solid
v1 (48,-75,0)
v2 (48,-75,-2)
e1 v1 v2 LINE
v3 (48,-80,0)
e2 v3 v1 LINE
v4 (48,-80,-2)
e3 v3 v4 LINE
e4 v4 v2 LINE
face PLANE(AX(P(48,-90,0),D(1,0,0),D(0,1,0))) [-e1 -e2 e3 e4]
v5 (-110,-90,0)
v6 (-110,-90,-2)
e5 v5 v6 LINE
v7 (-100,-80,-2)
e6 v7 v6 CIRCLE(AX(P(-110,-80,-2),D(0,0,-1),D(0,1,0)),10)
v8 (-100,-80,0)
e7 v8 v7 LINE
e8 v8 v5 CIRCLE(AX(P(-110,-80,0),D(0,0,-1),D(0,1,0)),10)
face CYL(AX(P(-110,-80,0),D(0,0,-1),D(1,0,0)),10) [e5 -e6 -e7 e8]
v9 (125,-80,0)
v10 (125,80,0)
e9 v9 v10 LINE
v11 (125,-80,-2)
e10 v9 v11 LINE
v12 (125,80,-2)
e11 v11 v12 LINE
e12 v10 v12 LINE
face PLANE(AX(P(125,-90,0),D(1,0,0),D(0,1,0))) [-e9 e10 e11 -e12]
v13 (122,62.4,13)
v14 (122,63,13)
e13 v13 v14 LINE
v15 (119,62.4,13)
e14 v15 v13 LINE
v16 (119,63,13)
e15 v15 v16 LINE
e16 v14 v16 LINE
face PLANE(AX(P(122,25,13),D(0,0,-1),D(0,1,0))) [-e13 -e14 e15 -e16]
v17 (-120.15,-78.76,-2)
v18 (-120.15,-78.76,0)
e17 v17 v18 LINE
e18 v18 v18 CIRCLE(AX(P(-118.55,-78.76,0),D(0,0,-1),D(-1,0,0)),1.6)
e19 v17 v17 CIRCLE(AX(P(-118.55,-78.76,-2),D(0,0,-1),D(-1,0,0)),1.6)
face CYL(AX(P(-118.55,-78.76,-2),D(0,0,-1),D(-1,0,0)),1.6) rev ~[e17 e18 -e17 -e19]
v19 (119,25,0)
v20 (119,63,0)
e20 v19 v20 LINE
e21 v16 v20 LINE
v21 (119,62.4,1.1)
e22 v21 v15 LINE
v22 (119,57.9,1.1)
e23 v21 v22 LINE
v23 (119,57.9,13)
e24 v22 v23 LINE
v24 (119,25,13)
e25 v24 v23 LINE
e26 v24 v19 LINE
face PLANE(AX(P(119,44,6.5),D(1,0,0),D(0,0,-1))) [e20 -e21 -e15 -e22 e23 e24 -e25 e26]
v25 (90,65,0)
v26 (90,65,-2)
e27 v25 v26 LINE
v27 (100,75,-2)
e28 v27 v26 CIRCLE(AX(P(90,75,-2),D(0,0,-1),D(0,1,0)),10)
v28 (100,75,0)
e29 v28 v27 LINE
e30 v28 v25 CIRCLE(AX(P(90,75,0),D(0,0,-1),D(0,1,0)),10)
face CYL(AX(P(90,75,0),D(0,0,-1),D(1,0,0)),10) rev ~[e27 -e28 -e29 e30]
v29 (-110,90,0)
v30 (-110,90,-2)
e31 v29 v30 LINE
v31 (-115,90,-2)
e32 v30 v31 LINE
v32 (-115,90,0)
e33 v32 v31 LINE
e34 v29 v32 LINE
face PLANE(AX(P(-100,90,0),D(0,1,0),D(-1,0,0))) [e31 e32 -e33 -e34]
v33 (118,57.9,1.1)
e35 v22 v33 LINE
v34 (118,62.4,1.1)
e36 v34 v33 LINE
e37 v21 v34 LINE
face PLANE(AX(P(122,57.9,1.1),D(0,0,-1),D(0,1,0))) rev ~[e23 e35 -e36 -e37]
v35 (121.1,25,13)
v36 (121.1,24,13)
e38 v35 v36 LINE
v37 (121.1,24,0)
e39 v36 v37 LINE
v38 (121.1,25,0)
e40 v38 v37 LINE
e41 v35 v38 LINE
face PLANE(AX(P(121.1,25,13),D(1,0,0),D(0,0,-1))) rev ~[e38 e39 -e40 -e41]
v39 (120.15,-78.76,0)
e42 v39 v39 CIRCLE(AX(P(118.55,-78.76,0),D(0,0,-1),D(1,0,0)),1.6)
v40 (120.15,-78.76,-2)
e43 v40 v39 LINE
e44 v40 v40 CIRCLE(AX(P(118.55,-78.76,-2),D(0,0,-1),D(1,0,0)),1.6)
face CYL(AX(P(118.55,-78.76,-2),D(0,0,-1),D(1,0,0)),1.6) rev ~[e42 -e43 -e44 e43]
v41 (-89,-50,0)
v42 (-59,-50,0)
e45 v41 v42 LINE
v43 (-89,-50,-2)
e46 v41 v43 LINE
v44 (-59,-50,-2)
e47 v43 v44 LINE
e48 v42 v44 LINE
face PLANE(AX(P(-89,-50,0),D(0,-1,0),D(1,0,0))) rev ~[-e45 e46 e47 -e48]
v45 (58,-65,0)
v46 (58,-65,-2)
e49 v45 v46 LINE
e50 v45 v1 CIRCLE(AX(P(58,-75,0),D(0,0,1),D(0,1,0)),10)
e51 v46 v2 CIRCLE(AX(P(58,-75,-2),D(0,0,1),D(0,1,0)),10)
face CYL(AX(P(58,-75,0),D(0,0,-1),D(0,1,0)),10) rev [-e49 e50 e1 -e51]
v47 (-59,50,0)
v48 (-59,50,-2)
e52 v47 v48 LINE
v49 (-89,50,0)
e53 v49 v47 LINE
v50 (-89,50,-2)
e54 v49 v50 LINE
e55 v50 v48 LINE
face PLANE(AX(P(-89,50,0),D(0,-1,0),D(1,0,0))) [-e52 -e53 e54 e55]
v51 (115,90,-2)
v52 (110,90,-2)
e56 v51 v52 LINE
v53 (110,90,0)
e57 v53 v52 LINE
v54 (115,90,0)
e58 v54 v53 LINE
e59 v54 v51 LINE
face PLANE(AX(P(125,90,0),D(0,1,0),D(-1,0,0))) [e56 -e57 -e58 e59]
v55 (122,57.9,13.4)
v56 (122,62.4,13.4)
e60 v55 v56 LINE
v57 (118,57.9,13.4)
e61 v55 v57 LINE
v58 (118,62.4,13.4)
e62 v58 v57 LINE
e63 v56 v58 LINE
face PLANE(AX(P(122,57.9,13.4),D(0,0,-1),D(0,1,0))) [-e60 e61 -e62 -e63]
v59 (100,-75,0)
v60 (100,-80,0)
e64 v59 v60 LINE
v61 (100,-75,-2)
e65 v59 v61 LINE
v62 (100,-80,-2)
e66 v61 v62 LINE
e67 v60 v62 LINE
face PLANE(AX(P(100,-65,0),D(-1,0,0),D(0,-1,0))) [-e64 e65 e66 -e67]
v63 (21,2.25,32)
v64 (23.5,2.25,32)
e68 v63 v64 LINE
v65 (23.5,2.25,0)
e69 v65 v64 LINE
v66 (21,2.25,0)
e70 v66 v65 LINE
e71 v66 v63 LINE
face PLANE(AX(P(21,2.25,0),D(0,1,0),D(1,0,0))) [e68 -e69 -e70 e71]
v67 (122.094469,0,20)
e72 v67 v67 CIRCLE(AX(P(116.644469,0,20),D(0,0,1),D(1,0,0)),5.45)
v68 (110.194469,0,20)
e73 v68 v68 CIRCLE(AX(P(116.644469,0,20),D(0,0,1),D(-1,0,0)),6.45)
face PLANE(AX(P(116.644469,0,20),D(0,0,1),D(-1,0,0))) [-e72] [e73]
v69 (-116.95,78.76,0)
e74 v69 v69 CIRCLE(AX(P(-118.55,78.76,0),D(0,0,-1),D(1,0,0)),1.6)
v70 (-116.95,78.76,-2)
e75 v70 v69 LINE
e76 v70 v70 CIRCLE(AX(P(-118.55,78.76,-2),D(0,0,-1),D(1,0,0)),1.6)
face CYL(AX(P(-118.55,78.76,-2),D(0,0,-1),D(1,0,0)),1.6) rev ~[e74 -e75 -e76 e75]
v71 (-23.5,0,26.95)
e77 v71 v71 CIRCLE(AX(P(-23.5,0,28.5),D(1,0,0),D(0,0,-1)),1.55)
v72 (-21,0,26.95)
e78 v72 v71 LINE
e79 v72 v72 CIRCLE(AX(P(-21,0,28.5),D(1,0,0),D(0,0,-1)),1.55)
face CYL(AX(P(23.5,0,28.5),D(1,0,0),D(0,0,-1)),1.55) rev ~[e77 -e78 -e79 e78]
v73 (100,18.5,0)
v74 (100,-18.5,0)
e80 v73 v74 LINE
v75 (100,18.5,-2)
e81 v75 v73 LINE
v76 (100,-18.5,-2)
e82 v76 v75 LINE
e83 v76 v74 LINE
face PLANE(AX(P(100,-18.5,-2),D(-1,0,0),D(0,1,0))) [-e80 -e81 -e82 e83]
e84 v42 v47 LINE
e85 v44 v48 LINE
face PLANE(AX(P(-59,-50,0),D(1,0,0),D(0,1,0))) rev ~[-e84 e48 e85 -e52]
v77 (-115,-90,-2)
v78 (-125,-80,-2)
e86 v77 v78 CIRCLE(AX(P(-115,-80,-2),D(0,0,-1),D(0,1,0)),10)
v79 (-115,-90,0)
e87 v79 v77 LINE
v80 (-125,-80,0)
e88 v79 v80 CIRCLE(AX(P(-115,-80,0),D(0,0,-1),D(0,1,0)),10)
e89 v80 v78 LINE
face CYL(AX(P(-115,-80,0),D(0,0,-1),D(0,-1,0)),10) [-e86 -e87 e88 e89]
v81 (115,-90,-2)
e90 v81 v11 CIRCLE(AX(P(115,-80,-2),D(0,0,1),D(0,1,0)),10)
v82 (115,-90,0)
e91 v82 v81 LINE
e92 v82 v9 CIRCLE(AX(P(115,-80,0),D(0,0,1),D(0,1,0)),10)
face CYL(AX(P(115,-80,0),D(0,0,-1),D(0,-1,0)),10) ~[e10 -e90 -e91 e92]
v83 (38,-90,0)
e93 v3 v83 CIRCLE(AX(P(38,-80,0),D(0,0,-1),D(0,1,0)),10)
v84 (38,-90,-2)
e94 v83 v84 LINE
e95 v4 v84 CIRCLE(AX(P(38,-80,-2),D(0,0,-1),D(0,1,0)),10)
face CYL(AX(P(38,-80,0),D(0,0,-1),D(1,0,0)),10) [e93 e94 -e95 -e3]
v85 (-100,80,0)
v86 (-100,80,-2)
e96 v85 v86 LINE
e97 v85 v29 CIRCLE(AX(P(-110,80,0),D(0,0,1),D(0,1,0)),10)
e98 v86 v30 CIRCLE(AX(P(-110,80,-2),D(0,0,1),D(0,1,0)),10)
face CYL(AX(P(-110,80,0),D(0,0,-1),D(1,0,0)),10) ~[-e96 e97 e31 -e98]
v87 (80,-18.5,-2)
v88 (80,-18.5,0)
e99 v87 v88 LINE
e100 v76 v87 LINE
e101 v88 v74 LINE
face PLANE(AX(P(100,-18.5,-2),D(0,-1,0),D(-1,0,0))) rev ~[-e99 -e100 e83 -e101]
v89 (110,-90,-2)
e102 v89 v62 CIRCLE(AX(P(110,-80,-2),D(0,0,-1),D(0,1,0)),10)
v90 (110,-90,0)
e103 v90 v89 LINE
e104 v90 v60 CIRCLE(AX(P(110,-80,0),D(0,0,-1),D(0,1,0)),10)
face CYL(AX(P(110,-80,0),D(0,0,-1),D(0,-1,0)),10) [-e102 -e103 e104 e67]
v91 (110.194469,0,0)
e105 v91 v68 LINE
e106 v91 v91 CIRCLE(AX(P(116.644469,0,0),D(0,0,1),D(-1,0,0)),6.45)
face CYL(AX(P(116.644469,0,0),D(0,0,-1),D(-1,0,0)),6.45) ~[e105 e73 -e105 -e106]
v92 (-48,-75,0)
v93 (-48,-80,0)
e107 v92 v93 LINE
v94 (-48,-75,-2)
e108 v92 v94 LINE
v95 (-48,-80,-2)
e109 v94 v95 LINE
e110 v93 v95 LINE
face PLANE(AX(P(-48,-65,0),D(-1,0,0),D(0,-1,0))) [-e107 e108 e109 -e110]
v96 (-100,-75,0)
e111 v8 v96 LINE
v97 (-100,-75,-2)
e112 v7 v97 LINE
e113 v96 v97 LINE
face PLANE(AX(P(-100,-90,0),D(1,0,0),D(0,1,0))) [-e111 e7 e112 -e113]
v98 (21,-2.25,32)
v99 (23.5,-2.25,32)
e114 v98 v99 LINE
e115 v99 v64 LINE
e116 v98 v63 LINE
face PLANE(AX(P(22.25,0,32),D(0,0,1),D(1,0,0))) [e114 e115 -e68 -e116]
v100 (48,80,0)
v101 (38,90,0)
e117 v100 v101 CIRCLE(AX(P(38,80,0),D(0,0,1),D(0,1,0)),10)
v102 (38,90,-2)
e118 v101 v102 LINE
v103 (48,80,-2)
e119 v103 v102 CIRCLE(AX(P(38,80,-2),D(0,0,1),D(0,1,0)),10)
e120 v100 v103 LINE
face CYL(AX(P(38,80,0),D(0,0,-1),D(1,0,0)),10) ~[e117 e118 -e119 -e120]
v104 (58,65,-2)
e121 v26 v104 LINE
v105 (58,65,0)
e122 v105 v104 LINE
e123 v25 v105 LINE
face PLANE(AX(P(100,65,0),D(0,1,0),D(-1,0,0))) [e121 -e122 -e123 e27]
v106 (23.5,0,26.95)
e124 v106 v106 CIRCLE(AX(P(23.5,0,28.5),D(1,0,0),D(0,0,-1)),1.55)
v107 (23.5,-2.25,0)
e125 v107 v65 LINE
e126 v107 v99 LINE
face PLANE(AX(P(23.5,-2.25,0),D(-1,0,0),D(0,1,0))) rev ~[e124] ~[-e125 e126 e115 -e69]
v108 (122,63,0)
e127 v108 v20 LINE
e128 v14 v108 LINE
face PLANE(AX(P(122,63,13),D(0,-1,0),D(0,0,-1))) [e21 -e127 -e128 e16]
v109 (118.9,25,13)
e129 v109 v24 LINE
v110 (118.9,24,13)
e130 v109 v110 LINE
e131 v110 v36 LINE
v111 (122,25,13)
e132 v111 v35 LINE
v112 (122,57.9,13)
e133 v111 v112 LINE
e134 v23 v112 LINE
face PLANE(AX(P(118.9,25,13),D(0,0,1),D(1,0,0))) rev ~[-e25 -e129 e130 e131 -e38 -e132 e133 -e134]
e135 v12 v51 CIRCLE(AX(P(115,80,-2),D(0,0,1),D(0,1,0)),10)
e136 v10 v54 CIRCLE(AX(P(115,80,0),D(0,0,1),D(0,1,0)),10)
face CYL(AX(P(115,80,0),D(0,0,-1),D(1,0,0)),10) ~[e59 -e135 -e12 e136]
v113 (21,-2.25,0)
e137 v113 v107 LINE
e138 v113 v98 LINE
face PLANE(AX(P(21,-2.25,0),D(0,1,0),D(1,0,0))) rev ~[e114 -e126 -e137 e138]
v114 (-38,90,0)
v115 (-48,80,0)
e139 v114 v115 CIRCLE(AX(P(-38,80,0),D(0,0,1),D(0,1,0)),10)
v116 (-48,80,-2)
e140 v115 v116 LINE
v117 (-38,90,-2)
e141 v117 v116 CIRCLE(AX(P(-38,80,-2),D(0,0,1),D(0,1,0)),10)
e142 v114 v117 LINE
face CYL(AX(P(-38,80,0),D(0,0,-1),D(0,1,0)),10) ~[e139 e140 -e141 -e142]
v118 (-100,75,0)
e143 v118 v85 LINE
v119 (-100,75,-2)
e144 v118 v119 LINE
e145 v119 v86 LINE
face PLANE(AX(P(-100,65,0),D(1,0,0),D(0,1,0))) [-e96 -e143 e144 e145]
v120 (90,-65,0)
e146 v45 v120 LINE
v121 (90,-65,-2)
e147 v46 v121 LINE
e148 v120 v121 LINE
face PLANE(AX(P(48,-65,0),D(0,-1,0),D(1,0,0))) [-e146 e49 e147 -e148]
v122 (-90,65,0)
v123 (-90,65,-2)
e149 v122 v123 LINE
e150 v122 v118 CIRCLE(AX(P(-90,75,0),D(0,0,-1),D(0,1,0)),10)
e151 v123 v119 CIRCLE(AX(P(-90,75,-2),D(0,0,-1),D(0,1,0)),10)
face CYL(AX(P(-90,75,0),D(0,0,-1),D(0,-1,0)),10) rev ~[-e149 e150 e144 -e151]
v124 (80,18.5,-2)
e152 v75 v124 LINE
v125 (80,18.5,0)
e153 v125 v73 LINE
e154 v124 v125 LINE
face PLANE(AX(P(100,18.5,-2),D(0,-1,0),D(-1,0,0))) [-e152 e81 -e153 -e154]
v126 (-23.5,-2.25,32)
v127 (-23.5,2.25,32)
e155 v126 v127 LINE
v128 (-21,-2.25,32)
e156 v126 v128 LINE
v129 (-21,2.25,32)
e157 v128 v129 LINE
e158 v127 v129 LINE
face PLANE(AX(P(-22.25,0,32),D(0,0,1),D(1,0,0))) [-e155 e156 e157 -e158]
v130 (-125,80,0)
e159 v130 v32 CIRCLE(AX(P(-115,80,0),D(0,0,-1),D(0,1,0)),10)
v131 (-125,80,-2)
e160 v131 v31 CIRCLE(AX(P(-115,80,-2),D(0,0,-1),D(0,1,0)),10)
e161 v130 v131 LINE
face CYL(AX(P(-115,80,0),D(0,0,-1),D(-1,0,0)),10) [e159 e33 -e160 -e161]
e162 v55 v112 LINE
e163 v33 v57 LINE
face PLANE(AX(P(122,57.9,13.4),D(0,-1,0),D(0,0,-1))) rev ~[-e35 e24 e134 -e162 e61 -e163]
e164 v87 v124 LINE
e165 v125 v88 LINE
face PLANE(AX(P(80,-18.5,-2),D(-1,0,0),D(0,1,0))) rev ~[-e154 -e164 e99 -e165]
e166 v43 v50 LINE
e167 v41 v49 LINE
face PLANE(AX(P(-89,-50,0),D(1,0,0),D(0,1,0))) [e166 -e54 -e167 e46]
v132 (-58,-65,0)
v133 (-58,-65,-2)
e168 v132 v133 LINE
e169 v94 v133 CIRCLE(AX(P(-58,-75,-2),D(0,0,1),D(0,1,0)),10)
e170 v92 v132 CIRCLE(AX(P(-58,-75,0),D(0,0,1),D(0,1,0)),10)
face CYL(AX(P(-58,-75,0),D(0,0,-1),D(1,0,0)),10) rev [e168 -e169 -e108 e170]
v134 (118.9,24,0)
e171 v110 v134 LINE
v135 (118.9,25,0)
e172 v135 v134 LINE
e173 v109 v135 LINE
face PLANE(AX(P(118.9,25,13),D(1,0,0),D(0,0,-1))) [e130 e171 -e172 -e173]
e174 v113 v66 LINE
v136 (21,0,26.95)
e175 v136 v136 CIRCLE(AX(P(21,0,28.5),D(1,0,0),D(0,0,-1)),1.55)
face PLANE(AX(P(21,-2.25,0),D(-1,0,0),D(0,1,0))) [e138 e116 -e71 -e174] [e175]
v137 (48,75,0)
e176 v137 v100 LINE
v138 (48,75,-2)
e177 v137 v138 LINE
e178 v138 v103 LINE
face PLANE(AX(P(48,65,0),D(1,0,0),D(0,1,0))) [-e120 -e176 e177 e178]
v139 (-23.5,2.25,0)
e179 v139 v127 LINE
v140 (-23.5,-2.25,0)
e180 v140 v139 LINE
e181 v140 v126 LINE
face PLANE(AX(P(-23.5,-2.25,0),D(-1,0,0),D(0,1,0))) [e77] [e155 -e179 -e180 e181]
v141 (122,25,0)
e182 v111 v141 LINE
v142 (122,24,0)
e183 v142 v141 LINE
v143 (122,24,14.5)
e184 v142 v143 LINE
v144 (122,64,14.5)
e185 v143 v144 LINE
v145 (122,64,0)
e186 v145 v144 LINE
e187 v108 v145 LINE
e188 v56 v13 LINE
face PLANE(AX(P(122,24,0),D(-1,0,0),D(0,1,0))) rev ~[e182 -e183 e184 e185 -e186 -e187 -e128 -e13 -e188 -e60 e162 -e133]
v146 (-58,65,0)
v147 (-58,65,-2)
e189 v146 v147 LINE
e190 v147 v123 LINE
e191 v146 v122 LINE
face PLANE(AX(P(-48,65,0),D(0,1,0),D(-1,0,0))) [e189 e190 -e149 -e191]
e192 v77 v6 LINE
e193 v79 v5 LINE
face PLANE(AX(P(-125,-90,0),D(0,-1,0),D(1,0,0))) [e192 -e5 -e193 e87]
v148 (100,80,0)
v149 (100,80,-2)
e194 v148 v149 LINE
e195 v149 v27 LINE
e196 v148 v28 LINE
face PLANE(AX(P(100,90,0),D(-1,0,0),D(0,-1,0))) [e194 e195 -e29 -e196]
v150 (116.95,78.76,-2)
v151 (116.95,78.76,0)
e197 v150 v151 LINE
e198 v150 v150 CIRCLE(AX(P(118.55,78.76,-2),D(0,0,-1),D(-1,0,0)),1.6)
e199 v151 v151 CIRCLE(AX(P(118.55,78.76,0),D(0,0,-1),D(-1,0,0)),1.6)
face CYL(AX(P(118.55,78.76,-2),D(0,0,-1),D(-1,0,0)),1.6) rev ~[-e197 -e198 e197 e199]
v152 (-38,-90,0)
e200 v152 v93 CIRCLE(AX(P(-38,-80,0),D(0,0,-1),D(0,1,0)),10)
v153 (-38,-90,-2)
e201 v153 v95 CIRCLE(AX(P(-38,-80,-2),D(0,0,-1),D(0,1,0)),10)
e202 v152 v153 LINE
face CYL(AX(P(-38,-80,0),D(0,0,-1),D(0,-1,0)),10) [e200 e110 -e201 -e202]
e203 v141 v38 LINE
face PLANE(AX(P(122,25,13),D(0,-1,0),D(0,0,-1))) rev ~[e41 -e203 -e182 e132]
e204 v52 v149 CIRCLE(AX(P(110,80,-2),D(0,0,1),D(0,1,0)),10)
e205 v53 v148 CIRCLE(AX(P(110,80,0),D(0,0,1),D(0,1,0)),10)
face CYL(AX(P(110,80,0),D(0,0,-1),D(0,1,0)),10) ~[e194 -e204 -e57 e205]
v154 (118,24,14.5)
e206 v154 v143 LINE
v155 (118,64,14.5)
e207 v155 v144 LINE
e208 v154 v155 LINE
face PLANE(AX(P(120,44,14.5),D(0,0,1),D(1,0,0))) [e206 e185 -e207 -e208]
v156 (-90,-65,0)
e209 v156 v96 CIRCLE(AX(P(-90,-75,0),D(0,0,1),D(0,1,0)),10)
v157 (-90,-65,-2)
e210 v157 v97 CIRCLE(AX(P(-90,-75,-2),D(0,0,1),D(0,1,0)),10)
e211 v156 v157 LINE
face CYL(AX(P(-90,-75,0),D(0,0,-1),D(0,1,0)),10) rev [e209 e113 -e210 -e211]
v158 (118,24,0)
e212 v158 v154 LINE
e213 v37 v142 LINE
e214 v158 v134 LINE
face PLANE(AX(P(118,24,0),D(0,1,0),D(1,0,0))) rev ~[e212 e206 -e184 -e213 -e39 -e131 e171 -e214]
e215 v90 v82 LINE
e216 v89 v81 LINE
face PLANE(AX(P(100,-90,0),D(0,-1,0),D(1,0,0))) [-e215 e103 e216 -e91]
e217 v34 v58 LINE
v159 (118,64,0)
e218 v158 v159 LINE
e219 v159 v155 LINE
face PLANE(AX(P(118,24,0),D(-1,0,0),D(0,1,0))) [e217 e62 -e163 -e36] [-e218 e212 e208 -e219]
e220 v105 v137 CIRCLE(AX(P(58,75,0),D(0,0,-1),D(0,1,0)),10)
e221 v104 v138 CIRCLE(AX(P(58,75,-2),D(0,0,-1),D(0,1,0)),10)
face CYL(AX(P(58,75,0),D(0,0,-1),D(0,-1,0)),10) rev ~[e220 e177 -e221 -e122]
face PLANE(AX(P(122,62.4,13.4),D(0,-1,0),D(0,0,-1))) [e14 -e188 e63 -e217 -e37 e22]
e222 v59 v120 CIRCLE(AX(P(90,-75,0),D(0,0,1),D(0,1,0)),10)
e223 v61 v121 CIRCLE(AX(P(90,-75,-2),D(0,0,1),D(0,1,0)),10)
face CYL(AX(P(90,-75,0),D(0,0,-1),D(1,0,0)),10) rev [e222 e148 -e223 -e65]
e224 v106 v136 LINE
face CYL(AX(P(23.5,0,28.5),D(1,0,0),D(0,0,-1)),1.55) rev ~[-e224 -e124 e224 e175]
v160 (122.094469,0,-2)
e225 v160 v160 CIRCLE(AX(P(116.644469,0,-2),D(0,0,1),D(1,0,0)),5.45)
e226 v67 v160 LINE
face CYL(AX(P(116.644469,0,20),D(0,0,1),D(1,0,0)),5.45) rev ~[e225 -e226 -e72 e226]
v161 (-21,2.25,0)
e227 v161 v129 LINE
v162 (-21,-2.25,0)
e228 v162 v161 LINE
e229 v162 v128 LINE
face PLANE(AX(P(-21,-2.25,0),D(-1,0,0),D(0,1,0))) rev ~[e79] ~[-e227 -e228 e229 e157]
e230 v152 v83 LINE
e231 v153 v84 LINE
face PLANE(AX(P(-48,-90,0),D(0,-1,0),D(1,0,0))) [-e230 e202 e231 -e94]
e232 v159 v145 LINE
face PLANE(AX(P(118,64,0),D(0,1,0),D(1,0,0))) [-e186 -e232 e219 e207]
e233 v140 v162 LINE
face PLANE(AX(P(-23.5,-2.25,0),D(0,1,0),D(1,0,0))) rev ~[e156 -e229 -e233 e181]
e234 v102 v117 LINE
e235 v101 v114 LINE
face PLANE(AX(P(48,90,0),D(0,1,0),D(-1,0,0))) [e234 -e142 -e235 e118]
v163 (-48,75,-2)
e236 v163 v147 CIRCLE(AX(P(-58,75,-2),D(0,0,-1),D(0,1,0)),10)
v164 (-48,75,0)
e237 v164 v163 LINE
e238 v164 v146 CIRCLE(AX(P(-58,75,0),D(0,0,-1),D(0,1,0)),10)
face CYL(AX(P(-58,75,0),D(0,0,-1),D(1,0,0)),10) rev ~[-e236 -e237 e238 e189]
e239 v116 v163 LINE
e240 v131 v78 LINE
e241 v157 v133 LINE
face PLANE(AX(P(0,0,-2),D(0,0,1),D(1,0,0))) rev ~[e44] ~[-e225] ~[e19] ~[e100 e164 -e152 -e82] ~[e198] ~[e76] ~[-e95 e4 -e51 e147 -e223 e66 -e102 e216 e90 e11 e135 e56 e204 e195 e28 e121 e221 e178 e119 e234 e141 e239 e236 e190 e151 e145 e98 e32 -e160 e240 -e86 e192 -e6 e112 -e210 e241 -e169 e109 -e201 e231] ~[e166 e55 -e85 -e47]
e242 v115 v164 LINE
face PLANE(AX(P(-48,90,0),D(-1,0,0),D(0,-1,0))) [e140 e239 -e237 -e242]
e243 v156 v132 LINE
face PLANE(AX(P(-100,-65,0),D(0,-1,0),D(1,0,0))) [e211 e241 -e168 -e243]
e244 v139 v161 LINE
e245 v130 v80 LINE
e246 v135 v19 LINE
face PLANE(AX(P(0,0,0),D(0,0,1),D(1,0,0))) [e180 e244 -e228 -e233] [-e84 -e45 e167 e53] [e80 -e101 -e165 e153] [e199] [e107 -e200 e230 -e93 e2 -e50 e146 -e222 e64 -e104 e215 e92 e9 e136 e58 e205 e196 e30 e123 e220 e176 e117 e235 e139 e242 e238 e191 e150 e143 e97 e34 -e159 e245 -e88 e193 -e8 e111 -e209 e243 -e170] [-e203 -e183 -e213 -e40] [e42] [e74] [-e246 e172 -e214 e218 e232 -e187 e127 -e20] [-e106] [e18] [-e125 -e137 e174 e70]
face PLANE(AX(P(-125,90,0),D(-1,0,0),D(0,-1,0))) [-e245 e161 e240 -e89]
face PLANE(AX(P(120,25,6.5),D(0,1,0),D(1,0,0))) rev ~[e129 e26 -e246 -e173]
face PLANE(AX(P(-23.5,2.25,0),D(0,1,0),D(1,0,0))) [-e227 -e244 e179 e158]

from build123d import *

# Parameters (mm, degrees)
BOSS_EXTRU_1_DEPTH       = 2
ESQUISSE2_R              = 1.6
ENL_V_MAT_EXTRU_1_DEPTH  = 155.04220201
CONG_1_R                 = 10
ESQUISSE5_W              = 20
ESQUISSE5_H              = 37
ENL_V_MAT_EXTRU_4_DEPTH  = 10
ESQUISSE6_W              = 4
ESQUISSE6_H              = 40
BOSS_EXTRU_3_DEPTH       = 14.5
ESQUISSE10_W             = 12.3
ESQUISSE10_H             = 4.5
ENL_V_MAT_EXTRU_5_DEPTH  = 12.1
ESQUISSE9_W              = 13
ESQUISSE9_H              = 38
ENL_V_MAT_EXTRU_6_DEPTH  = 3
ESQUISSE11_W             = 2.2
ESQUISSE11_H             = 13
ENL_V_MAT_EXTRU_7_DEPTH  = 3
ESQUISSE14_R             = 6.45
BOSS_EXTRU_4_DEPTH       = 20
ESQUISSE15_R             = 5.45
ENL_V_MAT_EXTRU_8_DEPTH  = 156.592416268
ESQUISSE17_W             = 30
ESQUISSE17_H             = 100
ENL_V_MAT_EXTRU_10_DEPTH = 156.32224567
ESQUISSE18_W             = 2.5
ESQUISSE18_H             = 4.5
BOSS_EXTRU_5_DEPTH       = 32
ESQUISSE19_R             = 1.55
ENL_V_MAT_EXTRU_11_DEPTH = 177.567975579


with BuildPart() as part:
    # Esquisse1 → Boss.-Extru.1 (new body)
    with BuildSketch(Plane.XY):
        Polygon((100, -90), (125, -90), (125, 90), (100, 90), (100, 65), (48, 65), (48, 90), (-48, 90), (-48, 65), (-100, 65), (-100, 90), (-125, 90), (-125, -90), (-100, -90), (-100, -65), (-48, -65), (-48, -90), (48, -90), (48, -65), (100, -65), align=None)
    extrude(amount=-BOSS_EXTRU_1_DEPTH)

    # Esquisse2 → Enlèv. mat.-Extru.1 (cut, through all)
    with BuildSketch(Plane(origin=(0, 0, -2), x_dir=(-1, 0, 0), z_dir=(0, 0, -1))):
        with Locations((-118.55, 78.76)):
            Circle(ESQUISSE2_R)
        with Locations(Location((118.55, 78.76, 0), (0, 0, 180))):
            Circle(ESQUISSE2_R)
        with Locations((118.55, -78.76)):
            Circle(ESQUISSE2_R)
        with Locations(Location((-118.55, -78.76, 0), (0, 0, 180))):
            Circle(ESQUISSE2_R)
    extrude(amount=-ENL_V_MAT_EXTRU_1_DEPTH, mode=Mode.SUBTRACT)

    # Congé1
    cong_1_edges = [part.edges().sort_by_distance(p)[0] for p in [
        (-100, 90, -1),
        (-48, 90, -1),
        (-48, 65, -1),
        (-100, 65, -1),
        (100, 65, -1),
        (48, 65, -1),
        (48, 90, -1),
        (100, 90, -1),
        (48, -90, -1),
        (48, -65, -1),
        (100, -65, -1),
        (100, -90, -1),
        (-100, -65, -1),
        (-48, -65, -1),
        (-48, -90, -1),
        (-100, -90, -1),
        (125, 90, -1),
        (125, -90, -1),
        (-125, -90, -1),
        (-125, 90, -1),
    ]]
    fillet(cong_1_edges, radius=CONG_1_R)

    # Esquisse5 → Enlèv. mat.-Extru.4 (cut)
    with BuildSketch(Plane(origin=(0, 0, -2), x_dir=(-1, 0, 0), z_dir=(0, 0, -1))):
        with Locations((-90, 0)):
            Rectangle(ESQUISSE5_W, ESQUISSE5_H)
    extrude(amount=-ENL_V_MAT_EXTRU_4_DEPTH, mode=Mode.SUBTRACT)

    # Esquisse6 → Boss.-Extru.3 (add)
    with BuildSketch(Plane.XY):
        with Locations((120, 44)):
            Rectangle(ESQUISSE6_W, ESQUISSE6_H)
    extrude(amount=BOSS_EXTRU_3_DEPTH)

    # Esquisse10 → Enlèv. mat.-Extru.5 (cut)
    with BuildSketch(Plane(origin=(122, 0, 0), x_dir=(0, 0, -1), z_dir=(1, 0, 0))):
        with Locations((-7.25, 60.15)):
            Rectangle(ESQUISSE10_W, ESQUISSE10_H)
    extrude(amount=-ENL_V_MAT_EXTRU_5_DEPTH, mode=Mode.SUBTRACT)

    # Esquisse9 → Enlèv. mat.-Extru.6 (cut)
    with BuildSketch(Plane(origin=(122, 0, 0), x_dir=(0, 0, -1), z_dir=(1, 0, 0))):
        with Locations((-6.5, 44)):
            Rectangle(ESQUISSE9_W, ESQUISSE9_H)
    extrude(amount=-ENL_V_MAT_EXTRU_6_DEPTH, mode=Mode.SUBTRACT)

    # Esquisse11 → Enlèv. mat.-Extru.7 (cut)
    with BuildSketch(Plane(origin=(0, 25, 0), x_dir=(1, 0, 0), z_dir=(0, 1, 0))):
        with Locations((120, -6.5)):
            Rectangle(ESQUISSE11_W, ESQUISSE11_H)
    extrude(amount=-ENL_V_MAT_EXTRU_7_DEPTH, mode=Mode.SUBTRACT)

    # Esquisse14 → Boss.-Extru.4 (add)
    with BuildSketch(Plane.XY):
        with Locations(Location((116.644469063, 0, 0), (0, 0, 180))):
            Circle(ESQUISSE14_R)
    extrude(amount=BOSS_EXTRU_4_DEPTH)

    # Esquisse15 → Enlèv. mat.-Extru.8 (cut, through all)
    with BuildSketch(Plane.XY.offset(20)):
        with Locations((116.644469063, 0)):
            Circle(ESQUISSE15_R)
    extrude(amount=-ENL_V_MAT_EXTRU_8_DEPTH, mode=Mode.SUBTRACT)

    # Esquisse17 → Enlèv. mat.-Extru.10 (cut, through all)
    with BuildSketch(Plane.XY):
        with Locations((-74, 0)):
            Rectangle(ESQUISSE17_W, ESQUISSE17_H)
    extrude(amount=-ENL_V_MAT_EXTRU_10_DEPTH, mode=Mode.SUBTRACT)

    # Esquisse18 → Boss.-Extru.5 (add)
    with BuildSketch(Plane.XY):
        with Locations((-22.25, 0)):
            Rectangle(ESQUISSE18_W, ESQUISSE18_H)
        with Locations((22.25, 0)):
            Rectangle(ESQUISSE18_W, ESQUISSE18_H)
    extrude(amount=BOSS_EXTRU_5_DEPTH)

    # Esquisse19 → Enlèv. mat.-Extru.11 (cut, through all)
    with BuildSketch(Plane(origin=(23.5, 0, 0), x_dir=(0, 0, -1), z_dir=(1, 0, 0))):
        with Locations((-28.5, 0)):
            Circle(ESQUISSE19_R)
    extrude(amount=-ENL_V_MAT_EXTRU_11_DEPTH, mode=Mode.SUBTRACT)


solid = part.part
